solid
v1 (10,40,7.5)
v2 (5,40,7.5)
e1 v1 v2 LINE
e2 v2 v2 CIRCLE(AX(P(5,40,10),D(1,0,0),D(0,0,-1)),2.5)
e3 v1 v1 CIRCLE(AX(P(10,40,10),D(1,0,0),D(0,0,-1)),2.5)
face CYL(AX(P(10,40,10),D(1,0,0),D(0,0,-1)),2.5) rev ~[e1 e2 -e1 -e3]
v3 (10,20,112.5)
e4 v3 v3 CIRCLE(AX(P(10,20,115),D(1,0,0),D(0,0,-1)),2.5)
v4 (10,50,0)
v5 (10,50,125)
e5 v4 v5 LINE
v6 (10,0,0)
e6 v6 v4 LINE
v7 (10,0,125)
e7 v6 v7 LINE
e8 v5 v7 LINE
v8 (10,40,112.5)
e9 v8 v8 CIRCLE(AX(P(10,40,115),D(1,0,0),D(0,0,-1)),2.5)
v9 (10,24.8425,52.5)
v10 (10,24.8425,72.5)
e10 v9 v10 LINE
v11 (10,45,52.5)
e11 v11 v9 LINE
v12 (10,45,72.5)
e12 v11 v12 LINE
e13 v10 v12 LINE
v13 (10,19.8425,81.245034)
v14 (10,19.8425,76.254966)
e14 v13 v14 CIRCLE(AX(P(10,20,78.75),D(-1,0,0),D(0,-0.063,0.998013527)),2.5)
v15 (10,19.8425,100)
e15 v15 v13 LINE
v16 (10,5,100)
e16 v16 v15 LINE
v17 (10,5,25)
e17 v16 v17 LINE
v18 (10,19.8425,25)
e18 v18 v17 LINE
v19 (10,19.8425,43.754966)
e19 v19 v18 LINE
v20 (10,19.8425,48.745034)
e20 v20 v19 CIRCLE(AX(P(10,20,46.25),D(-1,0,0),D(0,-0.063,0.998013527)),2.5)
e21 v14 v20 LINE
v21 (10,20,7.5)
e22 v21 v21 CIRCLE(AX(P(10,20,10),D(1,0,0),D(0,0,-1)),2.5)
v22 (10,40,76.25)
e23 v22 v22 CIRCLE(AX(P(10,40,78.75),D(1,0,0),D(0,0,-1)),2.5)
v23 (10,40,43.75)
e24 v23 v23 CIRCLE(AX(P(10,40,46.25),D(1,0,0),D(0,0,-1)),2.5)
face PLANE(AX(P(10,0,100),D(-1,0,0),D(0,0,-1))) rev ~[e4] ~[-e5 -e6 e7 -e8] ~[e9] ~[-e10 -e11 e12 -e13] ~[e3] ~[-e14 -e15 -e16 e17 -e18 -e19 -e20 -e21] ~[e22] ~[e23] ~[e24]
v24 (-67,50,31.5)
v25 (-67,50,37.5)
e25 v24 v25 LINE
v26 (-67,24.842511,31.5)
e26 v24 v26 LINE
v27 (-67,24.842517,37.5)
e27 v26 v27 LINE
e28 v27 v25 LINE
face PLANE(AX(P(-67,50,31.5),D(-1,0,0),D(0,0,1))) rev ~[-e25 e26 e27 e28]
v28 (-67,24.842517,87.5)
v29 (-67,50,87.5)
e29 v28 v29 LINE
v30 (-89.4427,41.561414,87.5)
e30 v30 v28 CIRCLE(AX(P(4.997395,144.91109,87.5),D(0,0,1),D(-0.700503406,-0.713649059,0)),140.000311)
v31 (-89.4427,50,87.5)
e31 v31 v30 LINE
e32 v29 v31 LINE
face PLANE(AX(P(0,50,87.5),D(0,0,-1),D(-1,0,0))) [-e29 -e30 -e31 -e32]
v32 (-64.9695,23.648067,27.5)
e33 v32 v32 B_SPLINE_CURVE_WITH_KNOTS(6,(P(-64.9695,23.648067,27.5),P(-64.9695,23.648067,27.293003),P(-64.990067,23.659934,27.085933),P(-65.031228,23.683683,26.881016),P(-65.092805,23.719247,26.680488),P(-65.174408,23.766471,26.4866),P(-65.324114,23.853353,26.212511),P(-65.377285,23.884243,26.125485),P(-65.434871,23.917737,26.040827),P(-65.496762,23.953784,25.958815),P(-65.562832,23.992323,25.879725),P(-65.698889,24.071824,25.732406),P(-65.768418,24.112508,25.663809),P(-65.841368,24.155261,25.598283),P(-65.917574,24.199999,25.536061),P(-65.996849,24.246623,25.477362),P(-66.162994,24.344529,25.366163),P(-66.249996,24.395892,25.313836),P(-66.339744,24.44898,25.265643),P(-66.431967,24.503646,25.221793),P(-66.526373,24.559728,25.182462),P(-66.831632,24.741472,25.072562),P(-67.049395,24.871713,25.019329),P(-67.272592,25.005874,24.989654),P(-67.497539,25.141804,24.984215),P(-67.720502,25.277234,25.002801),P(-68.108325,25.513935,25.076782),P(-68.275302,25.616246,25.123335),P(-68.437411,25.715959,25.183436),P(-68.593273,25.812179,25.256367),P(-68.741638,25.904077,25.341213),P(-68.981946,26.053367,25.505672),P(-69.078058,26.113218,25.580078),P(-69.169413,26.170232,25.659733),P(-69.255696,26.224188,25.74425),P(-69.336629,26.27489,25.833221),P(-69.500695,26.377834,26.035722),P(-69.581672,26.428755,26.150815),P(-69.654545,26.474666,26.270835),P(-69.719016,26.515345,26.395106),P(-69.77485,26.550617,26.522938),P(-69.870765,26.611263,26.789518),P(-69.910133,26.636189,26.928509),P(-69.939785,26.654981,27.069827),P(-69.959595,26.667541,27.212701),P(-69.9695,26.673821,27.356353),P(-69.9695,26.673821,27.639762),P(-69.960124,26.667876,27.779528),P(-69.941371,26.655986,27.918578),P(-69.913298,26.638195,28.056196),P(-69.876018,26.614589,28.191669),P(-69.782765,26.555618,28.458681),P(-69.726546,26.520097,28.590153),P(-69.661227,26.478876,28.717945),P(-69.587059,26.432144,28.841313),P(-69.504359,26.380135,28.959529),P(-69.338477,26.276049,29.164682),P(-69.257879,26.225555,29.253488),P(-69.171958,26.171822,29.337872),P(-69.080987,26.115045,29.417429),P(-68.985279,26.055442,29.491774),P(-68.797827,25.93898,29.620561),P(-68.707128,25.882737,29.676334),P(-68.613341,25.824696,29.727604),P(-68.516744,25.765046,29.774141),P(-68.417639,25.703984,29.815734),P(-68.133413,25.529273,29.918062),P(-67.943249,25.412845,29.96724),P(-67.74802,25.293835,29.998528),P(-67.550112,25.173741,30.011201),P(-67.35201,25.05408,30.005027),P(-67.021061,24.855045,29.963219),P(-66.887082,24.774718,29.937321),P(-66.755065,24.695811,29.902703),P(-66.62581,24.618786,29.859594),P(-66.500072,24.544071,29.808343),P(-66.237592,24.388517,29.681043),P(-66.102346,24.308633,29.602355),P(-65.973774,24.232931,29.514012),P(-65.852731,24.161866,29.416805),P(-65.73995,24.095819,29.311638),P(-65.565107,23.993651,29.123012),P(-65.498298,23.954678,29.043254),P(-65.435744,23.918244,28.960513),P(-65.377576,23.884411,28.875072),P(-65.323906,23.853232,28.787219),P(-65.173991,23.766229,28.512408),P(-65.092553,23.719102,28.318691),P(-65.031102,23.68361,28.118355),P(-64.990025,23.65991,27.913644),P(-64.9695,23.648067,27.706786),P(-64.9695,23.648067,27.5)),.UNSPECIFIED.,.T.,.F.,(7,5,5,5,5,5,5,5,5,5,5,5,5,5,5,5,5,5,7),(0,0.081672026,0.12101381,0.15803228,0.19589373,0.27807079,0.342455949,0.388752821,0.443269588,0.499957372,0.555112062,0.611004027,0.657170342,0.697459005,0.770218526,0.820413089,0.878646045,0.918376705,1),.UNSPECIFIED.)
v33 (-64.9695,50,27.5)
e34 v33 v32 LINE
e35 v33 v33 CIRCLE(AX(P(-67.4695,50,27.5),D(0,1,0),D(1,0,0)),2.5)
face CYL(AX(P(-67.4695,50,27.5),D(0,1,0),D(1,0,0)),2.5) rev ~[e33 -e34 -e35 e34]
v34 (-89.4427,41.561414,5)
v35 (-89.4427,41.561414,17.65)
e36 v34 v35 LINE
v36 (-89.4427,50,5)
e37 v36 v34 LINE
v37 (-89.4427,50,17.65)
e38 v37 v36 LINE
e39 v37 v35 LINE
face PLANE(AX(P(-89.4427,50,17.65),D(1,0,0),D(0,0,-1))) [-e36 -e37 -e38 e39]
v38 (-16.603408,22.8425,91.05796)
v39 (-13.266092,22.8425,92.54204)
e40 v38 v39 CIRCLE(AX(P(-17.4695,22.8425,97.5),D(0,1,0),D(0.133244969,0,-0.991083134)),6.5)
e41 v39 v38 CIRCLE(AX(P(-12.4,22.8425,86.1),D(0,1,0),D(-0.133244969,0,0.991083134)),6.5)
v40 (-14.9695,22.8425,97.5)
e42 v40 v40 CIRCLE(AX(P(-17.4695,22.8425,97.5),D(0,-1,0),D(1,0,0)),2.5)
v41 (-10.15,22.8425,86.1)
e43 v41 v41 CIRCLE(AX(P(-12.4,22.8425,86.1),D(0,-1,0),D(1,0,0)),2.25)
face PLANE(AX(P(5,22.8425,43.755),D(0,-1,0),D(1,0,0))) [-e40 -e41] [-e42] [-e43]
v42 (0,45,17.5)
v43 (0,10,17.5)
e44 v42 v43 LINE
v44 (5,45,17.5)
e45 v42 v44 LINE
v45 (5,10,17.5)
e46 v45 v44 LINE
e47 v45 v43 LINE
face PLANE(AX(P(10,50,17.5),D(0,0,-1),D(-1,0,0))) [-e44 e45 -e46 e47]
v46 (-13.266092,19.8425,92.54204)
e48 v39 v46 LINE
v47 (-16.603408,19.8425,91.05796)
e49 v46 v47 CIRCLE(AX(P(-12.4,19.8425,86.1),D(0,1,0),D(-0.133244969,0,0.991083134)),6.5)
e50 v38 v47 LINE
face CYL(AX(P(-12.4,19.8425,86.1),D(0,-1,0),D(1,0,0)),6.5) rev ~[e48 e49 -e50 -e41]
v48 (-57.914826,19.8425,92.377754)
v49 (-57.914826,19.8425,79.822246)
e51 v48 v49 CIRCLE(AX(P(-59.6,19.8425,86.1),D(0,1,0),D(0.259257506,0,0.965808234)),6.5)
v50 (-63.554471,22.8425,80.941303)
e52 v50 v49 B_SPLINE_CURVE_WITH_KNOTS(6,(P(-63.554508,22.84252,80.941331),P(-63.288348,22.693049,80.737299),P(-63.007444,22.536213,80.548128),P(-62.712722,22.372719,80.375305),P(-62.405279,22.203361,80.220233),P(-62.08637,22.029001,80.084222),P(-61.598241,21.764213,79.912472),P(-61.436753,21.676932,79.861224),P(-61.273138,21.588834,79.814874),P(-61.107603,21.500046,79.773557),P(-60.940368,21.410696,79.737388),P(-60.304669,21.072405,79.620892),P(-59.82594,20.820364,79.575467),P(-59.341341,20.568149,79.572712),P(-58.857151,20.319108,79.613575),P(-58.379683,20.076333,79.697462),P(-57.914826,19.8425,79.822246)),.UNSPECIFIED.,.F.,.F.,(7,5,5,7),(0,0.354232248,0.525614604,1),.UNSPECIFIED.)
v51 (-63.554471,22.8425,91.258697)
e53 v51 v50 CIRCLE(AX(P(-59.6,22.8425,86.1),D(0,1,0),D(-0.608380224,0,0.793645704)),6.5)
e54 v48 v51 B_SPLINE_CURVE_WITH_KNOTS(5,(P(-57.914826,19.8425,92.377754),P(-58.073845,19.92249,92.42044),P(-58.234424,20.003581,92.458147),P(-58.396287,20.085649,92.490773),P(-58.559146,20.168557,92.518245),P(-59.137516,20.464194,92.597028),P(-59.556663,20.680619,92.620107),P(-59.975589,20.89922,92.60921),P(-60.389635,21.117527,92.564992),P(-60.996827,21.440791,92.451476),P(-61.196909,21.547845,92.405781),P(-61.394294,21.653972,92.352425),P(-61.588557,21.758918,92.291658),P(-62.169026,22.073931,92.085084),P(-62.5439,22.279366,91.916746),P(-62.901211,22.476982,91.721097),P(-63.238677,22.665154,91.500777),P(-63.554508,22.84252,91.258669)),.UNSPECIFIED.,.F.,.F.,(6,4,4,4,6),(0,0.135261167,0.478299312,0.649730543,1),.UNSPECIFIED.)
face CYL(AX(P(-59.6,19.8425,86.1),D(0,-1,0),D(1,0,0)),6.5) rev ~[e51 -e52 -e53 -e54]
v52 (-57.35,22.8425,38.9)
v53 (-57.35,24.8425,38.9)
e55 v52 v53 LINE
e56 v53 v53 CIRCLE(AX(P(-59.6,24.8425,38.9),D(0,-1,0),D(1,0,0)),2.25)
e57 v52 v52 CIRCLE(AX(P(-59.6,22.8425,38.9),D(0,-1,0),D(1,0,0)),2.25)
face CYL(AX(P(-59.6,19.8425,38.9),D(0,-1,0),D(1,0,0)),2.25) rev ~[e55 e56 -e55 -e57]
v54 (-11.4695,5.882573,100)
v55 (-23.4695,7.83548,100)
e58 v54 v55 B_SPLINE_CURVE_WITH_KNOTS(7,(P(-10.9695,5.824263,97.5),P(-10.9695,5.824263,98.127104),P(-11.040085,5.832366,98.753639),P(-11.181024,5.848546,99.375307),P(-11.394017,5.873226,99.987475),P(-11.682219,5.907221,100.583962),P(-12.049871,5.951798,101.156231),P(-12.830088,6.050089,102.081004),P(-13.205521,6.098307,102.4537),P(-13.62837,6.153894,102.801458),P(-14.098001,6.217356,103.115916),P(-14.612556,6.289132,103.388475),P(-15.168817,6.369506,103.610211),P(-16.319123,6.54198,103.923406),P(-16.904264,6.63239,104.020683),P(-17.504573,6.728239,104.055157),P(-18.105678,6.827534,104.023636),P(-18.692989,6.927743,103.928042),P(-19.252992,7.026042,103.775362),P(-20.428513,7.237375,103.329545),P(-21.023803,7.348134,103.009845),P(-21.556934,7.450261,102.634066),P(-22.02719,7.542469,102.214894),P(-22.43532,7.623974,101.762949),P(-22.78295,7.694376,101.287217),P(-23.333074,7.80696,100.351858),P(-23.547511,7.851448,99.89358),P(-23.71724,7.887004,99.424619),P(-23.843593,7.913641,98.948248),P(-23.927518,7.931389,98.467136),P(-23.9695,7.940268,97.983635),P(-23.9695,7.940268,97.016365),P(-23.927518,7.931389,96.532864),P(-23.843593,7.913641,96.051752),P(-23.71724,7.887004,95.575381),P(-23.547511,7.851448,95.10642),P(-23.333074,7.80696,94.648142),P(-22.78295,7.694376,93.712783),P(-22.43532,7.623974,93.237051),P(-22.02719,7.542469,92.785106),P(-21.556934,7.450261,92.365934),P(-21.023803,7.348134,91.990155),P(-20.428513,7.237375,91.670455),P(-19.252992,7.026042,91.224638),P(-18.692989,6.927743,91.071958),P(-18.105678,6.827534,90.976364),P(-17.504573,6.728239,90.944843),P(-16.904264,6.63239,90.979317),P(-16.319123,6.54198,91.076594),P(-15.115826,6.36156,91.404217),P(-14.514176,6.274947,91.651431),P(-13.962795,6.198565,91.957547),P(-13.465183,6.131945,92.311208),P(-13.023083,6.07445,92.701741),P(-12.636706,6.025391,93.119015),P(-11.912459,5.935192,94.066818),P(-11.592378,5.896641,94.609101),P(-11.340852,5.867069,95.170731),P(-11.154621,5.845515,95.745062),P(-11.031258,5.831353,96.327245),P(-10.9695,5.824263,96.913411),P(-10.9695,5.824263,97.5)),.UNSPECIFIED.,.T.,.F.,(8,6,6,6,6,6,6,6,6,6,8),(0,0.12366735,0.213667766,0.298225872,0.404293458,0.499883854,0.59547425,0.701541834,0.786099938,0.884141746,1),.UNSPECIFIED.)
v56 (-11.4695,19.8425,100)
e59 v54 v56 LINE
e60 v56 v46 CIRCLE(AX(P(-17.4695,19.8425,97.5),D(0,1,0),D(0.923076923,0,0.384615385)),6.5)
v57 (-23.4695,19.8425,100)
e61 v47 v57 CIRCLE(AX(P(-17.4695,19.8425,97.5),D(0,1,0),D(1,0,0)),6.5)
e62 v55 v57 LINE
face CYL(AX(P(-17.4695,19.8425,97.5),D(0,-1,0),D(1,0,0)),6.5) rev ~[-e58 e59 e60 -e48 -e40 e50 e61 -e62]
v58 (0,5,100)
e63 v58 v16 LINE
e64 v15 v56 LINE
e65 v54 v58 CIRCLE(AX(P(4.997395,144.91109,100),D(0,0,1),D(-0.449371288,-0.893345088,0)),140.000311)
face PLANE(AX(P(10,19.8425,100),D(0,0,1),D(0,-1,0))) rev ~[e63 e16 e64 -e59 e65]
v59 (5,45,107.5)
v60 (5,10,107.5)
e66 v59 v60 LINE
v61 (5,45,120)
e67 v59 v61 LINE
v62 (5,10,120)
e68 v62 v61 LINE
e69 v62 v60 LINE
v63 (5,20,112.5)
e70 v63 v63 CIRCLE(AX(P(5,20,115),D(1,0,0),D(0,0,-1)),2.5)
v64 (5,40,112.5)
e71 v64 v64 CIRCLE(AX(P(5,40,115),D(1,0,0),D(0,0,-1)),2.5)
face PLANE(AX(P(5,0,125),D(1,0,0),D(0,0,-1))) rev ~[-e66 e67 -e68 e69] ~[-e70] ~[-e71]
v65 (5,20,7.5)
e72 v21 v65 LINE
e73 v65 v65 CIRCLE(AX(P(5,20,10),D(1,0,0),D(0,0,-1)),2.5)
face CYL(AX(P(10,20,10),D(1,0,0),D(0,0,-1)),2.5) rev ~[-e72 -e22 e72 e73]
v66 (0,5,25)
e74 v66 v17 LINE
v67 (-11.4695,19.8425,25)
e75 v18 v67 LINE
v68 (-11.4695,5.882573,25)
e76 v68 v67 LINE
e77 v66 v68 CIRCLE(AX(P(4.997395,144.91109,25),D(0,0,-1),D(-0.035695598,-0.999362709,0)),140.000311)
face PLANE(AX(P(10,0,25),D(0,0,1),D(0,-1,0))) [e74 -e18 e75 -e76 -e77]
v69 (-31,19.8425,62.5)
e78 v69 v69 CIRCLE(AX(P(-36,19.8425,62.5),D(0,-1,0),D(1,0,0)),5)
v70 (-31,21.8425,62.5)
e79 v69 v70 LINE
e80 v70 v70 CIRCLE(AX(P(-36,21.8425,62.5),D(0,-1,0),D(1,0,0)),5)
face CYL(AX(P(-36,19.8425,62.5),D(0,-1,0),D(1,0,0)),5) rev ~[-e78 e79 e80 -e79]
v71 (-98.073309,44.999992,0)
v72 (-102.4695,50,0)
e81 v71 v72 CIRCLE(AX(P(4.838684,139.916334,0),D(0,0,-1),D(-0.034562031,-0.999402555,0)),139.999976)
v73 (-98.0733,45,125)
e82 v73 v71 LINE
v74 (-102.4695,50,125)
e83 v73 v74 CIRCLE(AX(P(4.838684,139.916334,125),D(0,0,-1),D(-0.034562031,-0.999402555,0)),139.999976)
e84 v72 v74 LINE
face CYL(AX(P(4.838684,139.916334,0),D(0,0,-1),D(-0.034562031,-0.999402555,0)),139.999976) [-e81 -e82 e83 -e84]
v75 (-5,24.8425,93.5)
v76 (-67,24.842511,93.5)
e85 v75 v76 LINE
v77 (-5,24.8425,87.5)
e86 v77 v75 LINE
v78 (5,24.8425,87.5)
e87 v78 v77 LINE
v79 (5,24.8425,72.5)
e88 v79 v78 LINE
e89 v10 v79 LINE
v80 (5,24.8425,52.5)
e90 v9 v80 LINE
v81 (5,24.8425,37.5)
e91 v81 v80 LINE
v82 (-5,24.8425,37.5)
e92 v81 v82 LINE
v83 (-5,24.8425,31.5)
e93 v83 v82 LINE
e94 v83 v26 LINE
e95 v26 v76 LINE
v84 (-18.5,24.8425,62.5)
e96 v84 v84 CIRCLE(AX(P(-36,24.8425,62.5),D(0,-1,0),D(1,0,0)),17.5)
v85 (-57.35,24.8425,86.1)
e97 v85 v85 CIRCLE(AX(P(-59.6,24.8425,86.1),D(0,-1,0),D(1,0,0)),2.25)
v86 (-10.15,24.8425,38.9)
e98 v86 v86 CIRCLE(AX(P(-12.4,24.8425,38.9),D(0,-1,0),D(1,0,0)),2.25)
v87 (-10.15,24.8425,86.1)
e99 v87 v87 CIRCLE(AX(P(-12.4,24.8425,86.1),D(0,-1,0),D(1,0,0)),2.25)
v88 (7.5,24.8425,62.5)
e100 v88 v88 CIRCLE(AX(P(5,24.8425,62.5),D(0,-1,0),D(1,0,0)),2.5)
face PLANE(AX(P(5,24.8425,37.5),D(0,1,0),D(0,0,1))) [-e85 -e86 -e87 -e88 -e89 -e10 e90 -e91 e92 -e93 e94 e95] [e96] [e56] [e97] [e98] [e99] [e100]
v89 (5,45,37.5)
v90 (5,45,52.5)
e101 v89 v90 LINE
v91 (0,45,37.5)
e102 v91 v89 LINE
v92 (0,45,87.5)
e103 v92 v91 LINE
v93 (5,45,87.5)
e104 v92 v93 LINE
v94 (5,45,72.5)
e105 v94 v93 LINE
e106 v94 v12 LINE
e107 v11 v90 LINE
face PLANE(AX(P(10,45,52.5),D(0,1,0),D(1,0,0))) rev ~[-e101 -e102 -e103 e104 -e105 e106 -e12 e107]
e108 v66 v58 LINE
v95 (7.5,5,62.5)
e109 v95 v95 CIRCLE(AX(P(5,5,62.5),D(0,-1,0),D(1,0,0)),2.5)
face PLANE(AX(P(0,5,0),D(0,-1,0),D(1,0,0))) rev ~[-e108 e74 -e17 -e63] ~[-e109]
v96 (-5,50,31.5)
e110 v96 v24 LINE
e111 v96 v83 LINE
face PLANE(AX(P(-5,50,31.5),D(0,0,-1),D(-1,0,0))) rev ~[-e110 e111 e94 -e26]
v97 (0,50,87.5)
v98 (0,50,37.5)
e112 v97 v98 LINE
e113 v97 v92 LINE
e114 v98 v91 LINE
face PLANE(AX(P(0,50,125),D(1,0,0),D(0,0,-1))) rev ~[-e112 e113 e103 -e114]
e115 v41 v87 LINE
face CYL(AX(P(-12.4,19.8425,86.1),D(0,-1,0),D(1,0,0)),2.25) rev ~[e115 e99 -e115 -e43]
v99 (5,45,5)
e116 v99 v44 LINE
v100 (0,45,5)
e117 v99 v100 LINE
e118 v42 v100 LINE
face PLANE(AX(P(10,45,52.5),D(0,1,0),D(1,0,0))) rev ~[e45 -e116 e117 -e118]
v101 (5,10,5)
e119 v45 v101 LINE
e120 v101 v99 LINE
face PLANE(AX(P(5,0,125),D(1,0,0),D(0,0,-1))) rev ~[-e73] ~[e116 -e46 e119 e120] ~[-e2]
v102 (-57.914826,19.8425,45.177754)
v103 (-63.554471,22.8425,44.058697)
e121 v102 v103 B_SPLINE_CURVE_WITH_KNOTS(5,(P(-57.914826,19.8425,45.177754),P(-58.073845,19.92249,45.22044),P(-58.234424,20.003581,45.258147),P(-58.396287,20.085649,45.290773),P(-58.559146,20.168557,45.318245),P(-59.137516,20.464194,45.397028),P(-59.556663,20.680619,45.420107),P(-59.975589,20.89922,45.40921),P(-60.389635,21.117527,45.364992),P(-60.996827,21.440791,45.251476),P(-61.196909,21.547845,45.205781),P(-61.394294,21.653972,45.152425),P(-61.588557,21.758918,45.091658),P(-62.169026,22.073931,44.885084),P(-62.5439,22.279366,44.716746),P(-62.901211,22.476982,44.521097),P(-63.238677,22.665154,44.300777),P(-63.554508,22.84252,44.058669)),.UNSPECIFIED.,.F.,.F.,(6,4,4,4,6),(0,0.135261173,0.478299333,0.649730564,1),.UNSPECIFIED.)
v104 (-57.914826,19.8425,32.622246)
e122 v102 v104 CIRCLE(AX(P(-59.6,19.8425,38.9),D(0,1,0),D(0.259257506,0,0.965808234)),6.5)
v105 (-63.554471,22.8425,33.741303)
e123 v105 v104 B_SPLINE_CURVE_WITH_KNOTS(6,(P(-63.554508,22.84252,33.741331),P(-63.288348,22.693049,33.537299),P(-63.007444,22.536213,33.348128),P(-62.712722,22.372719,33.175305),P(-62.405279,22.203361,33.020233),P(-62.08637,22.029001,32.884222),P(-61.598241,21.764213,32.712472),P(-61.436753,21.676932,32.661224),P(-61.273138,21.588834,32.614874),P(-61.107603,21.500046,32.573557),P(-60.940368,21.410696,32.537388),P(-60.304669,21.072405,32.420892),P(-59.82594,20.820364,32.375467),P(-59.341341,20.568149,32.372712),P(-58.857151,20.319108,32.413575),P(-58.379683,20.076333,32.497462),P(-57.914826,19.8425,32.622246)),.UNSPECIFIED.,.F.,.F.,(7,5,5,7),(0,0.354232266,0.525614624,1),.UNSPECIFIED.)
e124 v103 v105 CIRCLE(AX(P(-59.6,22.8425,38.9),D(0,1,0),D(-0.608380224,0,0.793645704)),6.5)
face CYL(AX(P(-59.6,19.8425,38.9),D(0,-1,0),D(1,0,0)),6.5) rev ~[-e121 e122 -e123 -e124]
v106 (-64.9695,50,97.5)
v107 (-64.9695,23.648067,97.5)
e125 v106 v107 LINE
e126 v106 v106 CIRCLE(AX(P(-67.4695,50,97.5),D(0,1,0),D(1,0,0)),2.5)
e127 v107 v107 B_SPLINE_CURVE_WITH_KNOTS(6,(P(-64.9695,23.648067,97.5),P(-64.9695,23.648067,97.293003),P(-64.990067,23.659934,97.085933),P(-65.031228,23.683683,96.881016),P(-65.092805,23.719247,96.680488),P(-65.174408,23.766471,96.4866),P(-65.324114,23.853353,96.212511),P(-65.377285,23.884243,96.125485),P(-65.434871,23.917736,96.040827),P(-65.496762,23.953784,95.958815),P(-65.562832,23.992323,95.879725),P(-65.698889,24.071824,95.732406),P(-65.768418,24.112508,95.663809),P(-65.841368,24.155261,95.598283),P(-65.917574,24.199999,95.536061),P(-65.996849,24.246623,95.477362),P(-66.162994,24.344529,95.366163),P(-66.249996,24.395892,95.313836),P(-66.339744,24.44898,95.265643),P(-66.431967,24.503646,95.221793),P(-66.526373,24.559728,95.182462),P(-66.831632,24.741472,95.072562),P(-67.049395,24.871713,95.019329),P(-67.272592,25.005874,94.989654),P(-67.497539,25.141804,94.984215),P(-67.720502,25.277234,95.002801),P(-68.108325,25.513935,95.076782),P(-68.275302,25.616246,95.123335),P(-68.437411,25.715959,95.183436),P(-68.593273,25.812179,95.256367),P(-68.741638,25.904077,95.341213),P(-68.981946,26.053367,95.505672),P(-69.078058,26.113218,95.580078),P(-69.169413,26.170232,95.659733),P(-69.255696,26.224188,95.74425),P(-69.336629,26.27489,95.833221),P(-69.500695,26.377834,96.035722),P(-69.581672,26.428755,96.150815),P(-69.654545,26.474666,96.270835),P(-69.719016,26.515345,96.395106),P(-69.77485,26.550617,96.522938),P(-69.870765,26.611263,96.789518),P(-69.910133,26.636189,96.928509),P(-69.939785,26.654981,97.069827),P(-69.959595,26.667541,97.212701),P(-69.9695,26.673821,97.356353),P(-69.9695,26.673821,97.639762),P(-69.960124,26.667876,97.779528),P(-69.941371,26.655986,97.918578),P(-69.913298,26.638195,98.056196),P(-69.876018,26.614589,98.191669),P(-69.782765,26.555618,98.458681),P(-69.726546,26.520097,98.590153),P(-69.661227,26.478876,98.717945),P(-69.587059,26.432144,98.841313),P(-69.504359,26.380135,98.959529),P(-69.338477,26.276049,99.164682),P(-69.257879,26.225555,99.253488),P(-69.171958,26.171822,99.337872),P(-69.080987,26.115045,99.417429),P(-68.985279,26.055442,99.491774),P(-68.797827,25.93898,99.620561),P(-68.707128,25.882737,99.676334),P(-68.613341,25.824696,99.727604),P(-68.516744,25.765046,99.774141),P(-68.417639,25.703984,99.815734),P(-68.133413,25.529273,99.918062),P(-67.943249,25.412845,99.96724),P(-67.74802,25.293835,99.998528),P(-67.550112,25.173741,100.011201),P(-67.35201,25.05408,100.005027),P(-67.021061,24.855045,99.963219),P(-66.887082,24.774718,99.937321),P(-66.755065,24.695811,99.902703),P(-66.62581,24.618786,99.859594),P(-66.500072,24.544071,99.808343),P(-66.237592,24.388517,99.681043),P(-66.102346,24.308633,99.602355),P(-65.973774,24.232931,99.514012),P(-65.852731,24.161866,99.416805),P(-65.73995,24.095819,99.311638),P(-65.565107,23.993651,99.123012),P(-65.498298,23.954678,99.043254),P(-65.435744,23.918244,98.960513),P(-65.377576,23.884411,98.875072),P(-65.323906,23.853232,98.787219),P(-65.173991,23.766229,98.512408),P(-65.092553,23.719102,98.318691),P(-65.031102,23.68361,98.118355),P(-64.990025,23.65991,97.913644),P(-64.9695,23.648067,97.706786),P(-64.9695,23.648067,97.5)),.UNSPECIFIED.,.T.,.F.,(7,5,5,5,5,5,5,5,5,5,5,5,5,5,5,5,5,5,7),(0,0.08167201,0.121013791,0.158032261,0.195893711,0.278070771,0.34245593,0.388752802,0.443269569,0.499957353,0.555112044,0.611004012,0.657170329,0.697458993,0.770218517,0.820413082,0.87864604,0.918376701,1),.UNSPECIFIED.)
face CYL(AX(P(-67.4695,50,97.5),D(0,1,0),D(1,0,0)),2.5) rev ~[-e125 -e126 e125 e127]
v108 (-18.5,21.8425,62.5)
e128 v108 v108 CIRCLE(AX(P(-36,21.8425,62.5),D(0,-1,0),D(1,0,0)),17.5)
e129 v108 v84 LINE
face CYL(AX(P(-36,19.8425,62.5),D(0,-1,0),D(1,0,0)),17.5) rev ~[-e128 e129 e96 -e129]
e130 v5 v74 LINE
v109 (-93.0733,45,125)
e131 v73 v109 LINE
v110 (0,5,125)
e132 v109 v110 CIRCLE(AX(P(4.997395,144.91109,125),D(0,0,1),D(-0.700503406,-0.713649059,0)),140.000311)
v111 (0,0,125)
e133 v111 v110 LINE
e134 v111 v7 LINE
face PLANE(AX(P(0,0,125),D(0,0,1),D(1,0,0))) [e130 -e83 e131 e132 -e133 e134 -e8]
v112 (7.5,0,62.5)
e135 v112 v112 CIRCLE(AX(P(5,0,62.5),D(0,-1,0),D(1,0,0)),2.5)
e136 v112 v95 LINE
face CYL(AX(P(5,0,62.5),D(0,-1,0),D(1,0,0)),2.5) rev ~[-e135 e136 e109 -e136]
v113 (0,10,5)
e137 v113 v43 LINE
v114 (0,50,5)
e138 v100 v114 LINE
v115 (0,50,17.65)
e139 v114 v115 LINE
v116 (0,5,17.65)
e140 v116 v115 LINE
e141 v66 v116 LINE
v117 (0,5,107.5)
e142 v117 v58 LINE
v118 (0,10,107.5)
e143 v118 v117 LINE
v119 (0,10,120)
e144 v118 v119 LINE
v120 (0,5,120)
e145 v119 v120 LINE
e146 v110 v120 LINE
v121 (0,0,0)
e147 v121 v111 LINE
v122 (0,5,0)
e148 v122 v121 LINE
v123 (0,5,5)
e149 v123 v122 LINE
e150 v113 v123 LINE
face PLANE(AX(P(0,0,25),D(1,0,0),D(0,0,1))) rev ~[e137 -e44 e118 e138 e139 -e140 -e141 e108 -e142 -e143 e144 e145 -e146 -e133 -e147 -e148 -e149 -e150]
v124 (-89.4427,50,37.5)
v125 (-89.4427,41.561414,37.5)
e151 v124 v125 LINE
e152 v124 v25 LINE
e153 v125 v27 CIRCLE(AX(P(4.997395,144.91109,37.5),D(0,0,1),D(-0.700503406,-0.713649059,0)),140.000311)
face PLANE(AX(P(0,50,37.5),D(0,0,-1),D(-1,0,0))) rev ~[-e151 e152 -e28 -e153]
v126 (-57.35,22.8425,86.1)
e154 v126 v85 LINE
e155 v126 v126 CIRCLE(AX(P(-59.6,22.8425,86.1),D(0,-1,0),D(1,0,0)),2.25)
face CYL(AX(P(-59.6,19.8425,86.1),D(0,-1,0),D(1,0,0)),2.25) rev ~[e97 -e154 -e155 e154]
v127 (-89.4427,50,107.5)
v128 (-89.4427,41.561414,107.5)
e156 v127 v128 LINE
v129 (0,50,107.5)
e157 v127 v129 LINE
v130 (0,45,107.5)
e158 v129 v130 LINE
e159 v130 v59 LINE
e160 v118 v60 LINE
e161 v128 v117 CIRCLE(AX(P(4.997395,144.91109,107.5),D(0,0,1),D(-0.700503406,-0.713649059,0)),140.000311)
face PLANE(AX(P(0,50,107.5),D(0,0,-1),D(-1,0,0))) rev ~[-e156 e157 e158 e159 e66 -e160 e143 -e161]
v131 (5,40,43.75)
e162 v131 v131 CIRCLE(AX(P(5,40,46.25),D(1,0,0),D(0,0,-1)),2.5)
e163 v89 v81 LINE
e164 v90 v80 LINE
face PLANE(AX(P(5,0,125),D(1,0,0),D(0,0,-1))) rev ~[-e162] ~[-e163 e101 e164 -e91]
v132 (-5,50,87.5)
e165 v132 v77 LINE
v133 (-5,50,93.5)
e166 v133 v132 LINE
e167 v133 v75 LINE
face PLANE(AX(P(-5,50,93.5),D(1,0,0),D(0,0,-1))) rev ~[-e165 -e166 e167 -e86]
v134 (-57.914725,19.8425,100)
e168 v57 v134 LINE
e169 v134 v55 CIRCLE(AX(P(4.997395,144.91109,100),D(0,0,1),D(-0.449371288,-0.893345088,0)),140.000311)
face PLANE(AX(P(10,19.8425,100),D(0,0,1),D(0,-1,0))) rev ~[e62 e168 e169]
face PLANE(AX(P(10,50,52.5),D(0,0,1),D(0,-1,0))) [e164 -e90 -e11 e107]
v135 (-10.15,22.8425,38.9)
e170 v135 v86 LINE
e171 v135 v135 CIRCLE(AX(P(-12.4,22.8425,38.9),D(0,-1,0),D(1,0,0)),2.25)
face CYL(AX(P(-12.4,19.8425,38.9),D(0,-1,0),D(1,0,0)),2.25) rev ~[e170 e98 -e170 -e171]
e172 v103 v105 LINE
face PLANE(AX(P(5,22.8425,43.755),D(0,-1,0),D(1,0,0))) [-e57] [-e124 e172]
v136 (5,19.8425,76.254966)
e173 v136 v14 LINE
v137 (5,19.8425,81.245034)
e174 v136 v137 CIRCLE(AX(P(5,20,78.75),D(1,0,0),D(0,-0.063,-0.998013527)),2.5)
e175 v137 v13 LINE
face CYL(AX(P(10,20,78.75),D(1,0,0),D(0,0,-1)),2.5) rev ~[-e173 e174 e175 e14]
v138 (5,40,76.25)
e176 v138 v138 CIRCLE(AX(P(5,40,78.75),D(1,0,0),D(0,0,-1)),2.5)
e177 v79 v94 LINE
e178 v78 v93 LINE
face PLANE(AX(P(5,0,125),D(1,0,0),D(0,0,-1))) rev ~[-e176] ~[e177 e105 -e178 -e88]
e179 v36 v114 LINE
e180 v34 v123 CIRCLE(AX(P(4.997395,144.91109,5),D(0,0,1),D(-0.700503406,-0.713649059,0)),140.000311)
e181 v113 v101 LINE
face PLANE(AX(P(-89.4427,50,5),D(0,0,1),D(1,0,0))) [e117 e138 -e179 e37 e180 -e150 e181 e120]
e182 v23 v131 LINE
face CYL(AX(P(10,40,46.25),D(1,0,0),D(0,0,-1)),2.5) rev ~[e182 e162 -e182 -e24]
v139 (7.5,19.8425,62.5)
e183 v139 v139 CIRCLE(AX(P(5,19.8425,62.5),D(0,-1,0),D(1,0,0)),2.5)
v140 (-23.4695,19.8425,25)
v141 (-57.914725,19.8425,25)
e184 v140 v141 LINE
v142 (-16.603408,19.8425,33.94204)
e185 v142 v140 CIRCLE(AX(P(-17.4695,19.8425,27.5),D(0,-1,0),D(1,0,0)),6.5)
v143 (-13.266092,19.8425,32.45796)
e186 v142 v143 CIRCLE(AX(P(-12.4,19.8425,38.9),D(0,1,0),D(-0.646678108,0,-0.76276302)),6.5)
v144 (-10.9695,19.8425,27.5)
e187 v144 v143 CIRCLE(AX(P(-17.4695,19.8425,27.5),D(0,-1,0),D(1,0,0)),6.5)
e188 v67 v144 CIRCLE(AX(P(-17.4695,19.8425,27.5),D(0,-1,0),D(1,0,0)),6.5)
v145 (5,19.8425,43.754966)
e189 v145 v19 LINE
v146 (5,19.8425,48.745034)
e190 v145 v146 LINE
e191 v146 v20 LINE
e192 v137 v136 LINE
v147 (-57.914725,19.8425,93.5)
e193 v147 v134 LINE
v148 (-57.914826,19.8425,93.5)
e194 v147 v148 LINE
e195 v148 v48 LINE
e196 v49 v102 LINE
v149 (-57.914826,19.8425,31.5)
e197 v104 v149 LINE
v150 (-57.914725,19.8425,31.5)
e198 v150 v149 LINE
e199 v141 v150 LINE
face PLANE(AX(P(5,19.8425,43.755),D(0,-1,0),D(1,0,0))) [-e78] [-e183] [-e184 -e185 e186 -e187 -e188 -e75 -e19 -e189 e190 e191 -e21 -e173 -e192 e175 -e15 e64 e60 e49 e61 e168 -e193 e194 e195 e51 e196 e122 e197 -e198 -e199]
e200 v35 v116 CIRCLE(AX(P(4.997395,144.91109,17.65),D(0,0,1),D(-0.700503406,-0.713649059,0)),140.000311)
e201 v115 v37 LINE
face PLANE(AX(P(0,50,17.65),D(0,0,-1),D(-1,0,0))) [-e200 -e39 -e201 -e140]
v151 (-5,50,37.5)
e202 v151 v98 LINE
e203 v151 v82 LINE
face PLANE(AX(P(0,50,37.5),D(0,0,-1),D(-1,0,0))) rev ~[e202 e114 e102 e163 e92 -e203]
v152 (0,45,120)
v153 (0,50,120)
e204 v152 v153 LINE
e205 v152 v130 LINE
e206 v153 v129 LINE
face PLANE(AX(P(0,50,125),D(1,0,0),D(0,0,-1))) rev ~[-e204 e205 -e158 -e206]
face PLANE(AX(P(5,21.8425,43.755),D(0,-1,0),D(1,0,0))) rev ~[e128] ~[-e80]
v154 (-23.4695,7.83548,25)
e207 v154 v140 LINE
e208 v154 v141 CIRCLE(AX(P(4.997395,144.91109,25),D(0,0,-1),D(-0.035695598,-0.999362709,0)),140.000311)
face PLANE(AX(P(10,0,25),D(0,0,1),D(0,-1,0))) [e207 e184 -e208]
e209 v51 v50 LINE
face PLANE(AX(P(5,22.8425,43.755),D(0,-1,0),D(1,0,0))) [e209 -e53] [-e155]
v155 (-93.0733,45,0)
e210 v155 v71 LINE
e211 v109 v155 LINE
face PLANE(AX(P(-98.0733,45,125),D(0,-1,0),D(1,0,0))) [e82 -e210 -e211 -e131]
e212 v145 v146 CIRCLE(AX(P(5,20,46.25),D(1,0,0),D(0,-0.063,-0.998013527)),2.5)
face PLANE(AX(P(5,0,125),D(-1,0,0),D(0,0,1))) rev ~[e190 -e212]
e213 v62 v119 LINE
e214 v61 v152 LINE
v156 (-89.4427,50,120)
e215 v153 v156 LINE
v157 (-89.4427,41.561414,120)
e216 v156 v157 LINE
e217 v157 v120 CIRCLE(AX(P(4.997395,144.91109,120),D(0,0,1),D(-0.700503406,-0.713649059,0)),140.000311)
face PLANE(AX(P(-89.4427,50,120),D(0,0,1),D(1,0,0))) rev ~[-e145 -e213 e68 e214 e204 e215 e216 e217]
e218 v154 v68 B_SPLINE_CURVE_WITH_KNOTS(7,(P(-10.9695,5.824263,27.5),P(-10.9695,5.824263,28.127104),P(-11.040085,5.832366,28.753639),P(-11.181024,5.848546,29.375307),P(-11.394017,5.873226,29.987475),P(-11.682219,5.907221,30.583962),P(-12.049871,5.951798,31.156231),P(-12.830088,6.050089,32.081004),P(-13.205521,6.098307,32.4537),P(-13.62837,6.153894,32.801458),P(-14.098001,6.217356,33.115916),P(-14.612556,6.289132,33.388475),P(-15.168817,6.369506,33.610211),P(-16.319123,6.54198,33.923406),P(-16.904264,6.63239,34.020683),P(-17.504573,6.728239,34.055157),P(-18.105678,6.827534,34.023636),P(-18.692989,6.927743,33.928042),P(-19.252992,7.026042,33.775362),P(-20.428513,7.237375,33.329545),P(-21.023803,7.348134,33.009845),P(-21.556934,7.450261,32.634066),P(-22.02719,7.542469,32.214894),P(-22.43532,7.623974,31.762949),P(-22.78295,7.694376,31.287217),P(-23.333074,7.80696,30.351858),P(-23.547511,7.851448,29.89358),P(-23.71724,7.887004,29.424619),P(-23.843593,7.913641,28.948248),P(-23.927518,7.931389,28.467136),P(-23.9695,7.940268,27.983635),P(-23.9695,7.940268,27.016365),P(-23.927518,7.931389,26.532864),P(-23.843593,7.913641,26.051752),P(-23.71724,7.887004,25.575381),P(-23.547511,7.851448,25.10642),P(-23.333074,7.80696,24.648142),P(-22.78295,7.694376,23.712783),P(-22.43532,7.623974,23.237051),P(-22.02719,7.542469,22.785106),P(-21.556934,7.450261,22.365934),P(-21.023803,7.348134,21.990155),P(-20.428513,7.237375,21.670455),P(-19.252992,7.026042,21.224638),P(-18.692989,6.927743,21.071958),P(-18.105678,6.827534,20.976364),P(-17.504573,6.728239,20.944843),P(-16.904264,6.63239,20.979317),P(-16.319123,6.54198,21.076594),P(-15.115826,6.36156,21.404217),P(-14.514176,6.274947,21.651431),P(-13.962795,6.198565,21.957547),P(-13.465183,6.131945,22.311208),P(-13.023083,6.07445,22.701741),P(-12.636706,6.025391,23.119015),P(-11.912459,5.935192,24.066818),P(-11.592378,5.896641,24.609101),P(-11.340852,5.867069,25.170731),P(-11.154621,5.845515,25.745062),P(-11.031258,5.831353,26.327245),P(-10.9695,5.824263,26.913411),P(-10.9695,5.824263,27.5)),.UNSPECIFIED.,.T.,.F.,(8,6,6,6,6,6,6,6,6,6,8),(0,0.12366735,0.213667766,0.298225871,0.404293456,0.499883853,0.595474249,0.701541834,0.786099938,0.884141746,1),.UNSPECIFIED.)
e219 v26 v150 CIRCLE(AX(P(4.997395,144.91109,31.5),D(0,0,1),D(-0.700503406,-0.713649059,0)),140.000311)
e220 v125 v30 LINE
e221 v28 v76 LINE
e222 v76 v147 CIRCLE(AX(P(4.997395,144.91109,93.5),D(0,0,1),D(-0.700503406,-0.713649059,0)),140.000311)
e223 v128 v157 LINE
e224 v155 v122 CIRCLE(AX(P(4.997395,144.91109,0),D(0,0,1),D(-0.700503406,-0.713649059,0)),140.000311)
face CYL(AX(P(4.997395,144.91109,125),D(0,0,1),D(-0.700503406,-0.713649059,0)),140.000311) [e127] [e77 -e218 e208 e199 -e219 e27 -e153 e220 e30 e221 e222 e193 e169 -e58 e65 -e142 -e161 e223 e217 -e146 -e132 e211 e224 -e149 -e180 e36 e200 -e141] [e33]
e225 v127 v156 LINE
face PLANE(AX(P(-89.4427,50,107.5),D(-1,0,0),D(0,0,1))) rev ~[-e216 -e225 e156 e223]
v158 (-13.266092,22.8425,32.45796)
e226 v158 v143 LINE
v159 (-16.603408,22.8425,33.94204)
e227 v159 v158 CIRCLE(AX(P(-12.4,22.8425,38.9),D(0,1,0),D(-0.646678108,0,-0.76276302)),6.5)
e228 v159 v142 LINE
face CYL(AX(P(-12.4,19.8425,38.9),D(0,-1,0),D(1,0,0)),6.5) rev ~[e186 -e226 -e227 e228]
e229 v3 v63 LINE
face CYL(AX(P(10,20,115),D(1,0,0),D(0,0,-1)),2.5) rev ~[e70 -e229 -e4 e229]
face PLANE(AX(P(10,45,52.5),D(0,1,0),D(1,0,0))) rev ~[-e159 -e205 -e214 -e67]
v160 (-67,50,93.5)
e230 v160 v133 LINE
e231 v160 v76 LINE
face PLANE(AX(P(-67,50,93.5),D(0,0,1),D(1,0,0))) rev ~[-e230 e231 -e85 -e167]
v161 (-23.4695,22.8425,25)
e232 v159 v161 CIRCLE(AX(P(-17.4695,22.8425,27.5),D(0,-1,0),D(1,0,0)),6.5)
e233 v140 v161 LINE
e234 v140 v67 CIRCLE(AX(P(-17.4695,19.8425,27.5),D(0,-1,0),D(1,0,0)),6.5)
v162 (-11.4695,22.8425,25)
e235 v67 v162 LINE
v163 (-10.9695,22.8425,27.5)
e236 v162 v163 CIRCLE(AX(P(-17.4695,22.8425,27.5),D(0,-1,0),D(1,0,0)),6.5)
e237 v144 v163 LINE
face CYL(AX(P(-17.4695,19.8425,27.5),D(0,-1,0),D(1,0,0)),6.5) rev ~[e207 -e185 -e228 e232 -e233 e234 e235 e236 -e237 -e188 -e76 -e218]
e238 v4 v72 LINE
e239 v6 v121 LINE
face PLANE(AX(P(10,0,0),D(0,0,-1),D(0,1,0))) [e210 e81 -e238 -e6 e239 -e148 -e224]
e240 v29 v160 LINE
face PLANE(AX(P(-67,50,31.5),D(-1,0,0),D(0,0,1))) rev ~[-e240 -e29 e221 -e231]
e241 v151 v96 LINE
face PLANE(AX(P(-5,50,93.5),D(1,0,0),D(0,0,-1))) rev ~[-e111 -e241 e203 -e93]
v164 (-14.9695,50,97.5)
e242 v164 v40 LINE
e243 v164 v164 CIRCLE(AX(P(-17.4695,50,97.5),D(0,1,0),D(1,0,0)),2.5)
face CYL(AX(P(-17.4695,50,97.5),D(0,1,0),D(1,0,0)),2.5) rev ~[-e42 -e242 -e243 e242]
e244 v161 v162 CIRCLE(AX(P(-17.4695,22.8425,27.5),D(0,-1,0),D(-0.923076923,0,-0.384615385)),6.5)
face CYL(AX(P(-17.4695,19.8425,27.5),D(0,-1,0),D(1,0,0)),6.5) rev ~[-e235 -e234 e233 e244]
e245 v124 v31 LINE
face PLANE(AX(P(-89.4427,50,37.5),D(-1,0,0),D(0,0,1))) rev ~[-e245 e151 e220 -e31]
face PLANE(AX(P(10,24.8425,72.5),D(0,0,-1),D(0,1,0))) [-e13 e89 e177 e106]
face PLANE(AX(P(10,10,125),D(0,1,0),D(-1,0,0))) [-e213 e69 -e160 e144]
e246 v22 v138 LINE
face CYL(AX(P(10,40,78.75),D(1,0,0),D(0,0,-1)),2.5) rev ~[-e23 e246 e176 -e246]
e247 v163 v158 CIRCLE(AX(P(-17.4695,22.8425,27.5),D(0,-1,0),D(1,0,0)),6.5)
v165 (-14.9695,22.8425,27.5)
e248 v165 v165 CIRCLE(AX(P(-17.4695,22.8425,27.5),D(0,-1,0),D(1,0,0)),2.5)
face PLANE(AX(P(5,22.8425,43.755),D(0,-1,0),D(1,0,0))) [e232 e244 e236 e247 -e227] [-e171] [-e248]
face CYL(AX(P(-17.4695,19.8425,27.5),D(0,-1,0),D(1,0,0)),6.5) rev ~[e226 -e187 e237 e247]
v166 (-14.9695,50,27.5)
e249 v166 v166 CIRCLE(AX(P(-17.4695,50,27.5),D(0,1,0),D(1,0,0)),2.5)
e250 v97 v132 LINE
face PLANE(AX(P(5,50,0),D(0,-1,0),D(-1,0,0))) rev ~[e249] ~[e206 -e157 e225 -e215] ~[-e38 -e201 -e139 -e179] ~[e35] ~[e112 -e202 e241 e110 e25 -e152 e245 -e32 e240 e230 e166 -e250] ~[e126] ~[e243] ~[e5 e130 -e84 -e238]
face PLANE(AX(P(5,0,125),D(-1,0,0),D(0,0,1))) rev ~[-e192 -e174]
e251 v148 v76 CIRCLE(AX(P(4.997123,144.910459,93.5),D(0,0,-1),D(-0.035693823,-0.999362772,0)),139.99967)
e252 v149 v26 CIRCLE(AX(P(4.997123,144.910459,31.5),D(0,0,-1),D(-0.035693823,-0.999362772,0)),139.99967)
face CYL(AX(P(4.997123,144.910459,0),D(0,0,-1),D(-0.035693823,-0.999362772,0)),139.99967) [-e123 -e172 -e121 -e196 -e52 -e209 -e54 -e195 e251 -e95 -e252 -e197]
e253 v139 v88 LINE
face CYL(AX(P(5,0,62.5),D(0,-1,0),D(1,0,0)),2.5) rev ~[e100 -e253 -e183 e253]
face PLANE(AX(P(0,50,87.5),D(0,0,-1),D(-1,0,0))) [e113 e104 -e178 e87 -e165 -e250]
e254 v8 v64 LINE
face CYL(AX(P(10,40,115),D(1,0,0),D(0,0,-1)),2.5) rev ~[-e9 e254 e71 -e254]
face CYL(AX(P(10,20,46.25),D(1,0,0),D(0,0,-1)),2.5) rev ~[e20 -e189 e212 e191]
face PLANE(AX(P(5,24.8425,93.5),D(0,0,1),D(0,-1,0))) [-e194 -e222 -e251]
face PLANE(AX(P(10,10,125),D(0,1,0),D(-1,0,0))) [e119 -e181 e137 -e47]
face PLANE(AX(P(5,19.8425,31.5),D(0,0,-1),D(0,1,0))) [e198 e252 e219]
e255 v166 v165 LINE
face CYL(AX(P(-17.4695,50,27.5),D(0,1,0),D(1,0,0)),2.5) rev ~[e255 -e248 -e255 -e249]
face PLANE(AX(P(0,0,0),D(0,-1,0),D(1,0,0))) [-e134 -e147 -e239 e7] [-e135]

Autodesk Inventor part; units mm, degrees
ref_plane "YZ Plane" through (0, 0, 0) normal (1, 0, 0) x (0, 1, 0)
ref_plane "XZ Plane" through (0, 0, 0) normal (0, 1, 0) x (-1, 0, 0)
sketch "Sketch3" plane through (0, 0, 0) normal (0, 0, 1) x (1, 0, 0)
  circle A0 centre (0, 130) radius 130 construction
  line L0 (0, 0) -> (0, 10)
  circle A1 centre (0, 130) radius 120 construction
  line L1 (0, 0) -> (0, 50) construction
  line L2 (0, 50) -> (-102.4695, 50) construction
  arc A2 (-102.4695, 50) -> (0, 0) centre (0, 130) ccw
  arc A3 (-89.4427, 50) -> (0, 10) centre (0, 130) ccw
  line L3 (-102.4695, 50) -> (-89.4427, 50)
  dimension "d11" = 260
  dimension "d12" = 10
  dimension "d13" = 10
  dimension "d14" = 50
extrude "Extrusion2" add sketch "Sketch3" along normal blind 125
sketch "Sketch11" plane through (0, 0, 125) normal (0, 0, 1) x (1, 0, 0)
  line L0 (0, 0) -> (10, 0)
  line L1 (10, 0) -> (10, 10)
  line L2 (10, 10) -> (0, 10)
  line L3 (0, 10) -> (0, 0)
  dimension "d53" = 10
  dimension "d54" = 10
extrude "Extrusion9" add sketch "Sketch11" against normal blind 125
sketch "Sketch12" plane through (10, 0, 125) normal (1, 0, 0) x (0, 0, -1)
  line L0 (0, 50) -> (0, 0) projected
  line L1 (125, 50) -> (0, 50) projected
  line L2 (0, 0) -> (125, 0)
  line L3 (125, 0) -> (125, 50)
  line L4 (125, 50) -> (0, 50)
  line L5 (0, 50) -> (0, 0)
extrude "Extrusion10" add sketch "Sketch12" against normal blind 5
sketch "Sketch13" plane through (0, 0, 125) normal (0, 0, 1) x (1, 0, 0)
  line L0 (5, 10) -> (0, 10) projected
  arc A0 (-89.4427, 50) -> (0, 10) centre (0, 130) ccw projected
  line L1 (-89.4427, 50) -> (-102.4695, 50) projected
  arc A1 (-102.4695, 50) -> (0, 0) centre (0, 130) ccw projected
  line L2 (0, 0) -> (10, 0) projected
  line L3 (10, 0) -> (10, 50) projected
  line L4 (10, 50) -> (5, 50) projected
  line L5 (5, 10) -> (5, 50) projected
  line L6 (-89.4427, 50) -> (-102.4695, 50) projected
  line L7 (-102.4695, 50) -> (10, 50)
  line L8 (10, 0) -> (10, 50) projected
  line L9 (0, 0) -> (10, 0) projected
  line L10 (10, 0) -> (0, 0)
  arc A2 (-102.4695, 50) -> (0, 0) centre (0, 130) ccw
  line L11 (10, 50) -> (10, 0)
extrude "Extrusion11" add sketch "Sketch13" against normal blind 5 contours L0 A0 L7 L5
sketch "Sketch14" plane through (0, 0, 0) normal (0, 0, -1) x (-1, 0, 0)
  arc A0 (0, 0) -> (102.4695, 50) centre (0, 130) ccw projected
  line L0 (89.4427, 50) -> (102.4695, 50) projected
  arc A1 (0, 10) -> (89.4427, 50) centre (0, 130) ccw projected
  line L1 (-5, 50) -> (89.4427, 50)
  line L2 (-10, 50) -> (102.4695, 50) projected
  line L3 (-5, 10) -> (-5, 50) projected
  line L4 (-5, 10) -> (-5, 50)
  line L5 (0, 10) -> (-5, 10) projected
  line L6 (-5, 10) -> (0, 10)
  arc A2 (0, 10) -> (89.4427, 50) centre (0, 130) ccw projected
  arc A3 (0, 10) -> (89.4427, 50) centre (0, 130) ccw
  line L7 (-10, 0) -> (0, 0) projected
  line L8 (0, 10) -> (-5, 10) projected
  line L9 (-5, 50) -> (-5, 10) projected
  line L10 (-10, 50) -> (-5, 50) projected
  line L11 (-10, 0) -> (-10, 50) projected
extrude "Extrusion12" add sketch "Sketch14" against normal blind 5 contours A1 L5 L3 L1
sketch "Sketch15" plane through (10, 50, 125) normal (1, 0, 0) x (0, 0, -1)
  line L0 (0, -50) -> (0, 0) construction
  line L1 (0, -50) -> (125, -50) construction
  line L2 (0, 0) -> (20, 0) construction
  line L3 (20, 0) -> (20, -50) construction
  line L4 (20, -50) -> (0, -50) construction
  line L5 (0, -50) -> (0, 0) construction
  line L6 (125, 0) -> (0, 0) construction
  line L7 (38.75, 0) -> (53.75, 0) construction
  line L8 (53.75, 0) -> (53.75, -50) construction
  line L9 (53.75, -50) -> (38.75, -50) construction
  line L10 (38.75, -50) -> (38.75, 0) construction
  line L11 (71.25, 0) -> (86.25, 0) construction
  line L12 (86.25, 0) -> (86.25, -50) construction
  line L13 (86.25, -50) -> (71.25, -50) construction
  line L14 (71.25, -50) -> (71.25, 0) construction
  line L15 (125, -50) -> (125, 0) construction
  line L16 (125, 0) -> (105, 0) construction
  line L17 (105, 0) -> (105, -50) construction
  line L18 (105, -50) -> (125, -50) construction
  line L19 (125, -50) -> (125, 0) construction
  circle A0 centre (10, -10) radius 2.5
  circle A1 centre (10, -30) radius 2.5
  circle A2 centre (46.25, -10) radius 2.5
  circle A3 centre (46.25, -30) radius 2.5
  circle A4 centre (78.75, -10) radius 2.5
  circle A5 centre (78.75, -30) radius 2.5
  circle A6 centre (115, -10) radius 2.5
  circle A7 centre (115, -30) radius 2.5
  dimension "d63" = 20
  dimension "d64" = 15
  dimension "d65" = 20
  dimension "d66" = 15
  dimension "d69" = 5
  dimension "d70" = 5
  dimension "d71" = 5
  dimension "d72" = 5
  dimension "d73" = 5
  dimension "d74" = 5
  dimension "d75" = 5
  dimension "d76" = 5
  dimension "d77" = 10
  dimension "d78" = 10
  dimension "d79" = 7.5
  dimension "d80" = 7.5
  dimension "d81" = 10
  dimension "d82" = 20
  dimension "d114" = 36.25
  dimension "d115" = 36.25
extrude "Extrusion13" cut sketch "Sketch15" against normal blind 5
sketch "Sketch16" plane through (-102.4695, 50, 125) normal (0, 1, 0) x (1, 0, 0)
  line L0 (112.4695, 125) -> (112.4695, 0) projected
  line L1 (0, 125) -> (0, 0) projected
  line L2 (112.4695, 107.5) -> (0, 107.5)
  line L3 (0, 107.5) -> (0, 87.5)
  line L4 (0, 87.5) -> (112.4695, 87.5)
  line L5 (112.4695, 87.5) -> (112.4695, 107.5)
  line L6 (112.4695, 37.5) -> (0, 37.5)
  line L7 (0, 37.5) -> (0, 17.5)
  line L8 (0, 17.5) -> (112.4695, 17.5)
  line L9 (112.4695, 17.5) -> (112.4695, 37.5)
  line L10 (112.4695, 125) -> (0, 125) projected
  line L11 (0, 0) -> (102.4695, 0) projected
  point P0 (102.4695, 125)
  dimension "d85" = 20
  dimension "d87" = 20
  dimension "d88" = 17.5
  dimension "d89" = 17.5
extrude "Extrusion14" add sketch "Sketch16" against normal blind 50 contours L0 L4 L1 L2 | L0 L8 L1 L6
sketch "Sketch19" plane through (10, 0, 125) normal (1, 0, 0) x (0, 0, -1)
  line L0 (52.5, 50) -> (72.5, 50)
  line L1 (72.5, 50) -> (72.5, 24.8425)
  line L2 (72.5, 24.8425) -> (52.5, 24.8425)
  line L3 (52.5, 24.8425) -> (52.5, 50)
  line L4 (0, 0) -> (0, 50) projected
  line L5 (125, 50) -> (0, 50) projected
  point P0 (125, 0)
  dimension "d95" = 20
  dimension "d96" = 52.5
  dimension "d97" = 25.1575
extrude "Extrusion16" cut sketch "Sketch19" against normal blind 5
sketch "Sketch20" plane through (0, 0, 0) normal (0, 0, -1) x (-1, 0, 0)
  line L0 (0, 0) -> (-10, 0) projected
  arc A0 (0, 0) -> (102.4695, 50) centre (-4.8387, 139.9164) ccw
  line L1 (102.4695, 0) -> (0, 0) projected
  line L2 (0, 0) -> (102.4695, 0)
  line L3 (102.4695, 50) -> (102.4695, 0) projected
  line L4 (102.4695, 0) -> (102.4695, 50)
  line L5 (102.4695, 50) -> (102.4695, 0)
  dimension "d100" = 140
extrude "Extrusion17" cut sketch "Sketch20" against normal through all
sketch "Sketch21" plane through (-102.4695, 50, 125) normal (0, 1, 0) x (1, 0, 0)
  circle A0 centre (85, 27.5) radius 2.5
  circle A1 centre (35, 27.5) radius 2.5
  circle A2 centre (85, 97.5) radius 2.5
  circle A3 centre (35, 97.5) radius 2.5
  line L0 (102.4695, 17.5) -> (102.4695, 5) projected
  line L1 (13.0268, 17.5) -> (107.4695, 17.5) projected
  line L2 (13.0268, 87.5) -> (107.4695, 87.5) projected
  line L3 (0, 125) -> (0, 0) projected
  dimension "d103" = 5
  dimension "d104" = 5
  dimension "d105" = 5
  dimension "d106" = 5
  dimension "d108" = 50
  dimension "d109" = 10
  dimension "d110" = 10
  dimension "d113" = 35
extrude "Extrusion18" cut sketch "Sketch21" against normal through all
sketch "Sketch23" plane through (0, 0, 125) normal (0, 0, 1) x (1, 0, 0)
  line L0 (0, 0) -> (0, 5)
  arc A0 (-98.0733, 45) -> (0, 0) centre (4.8387, 139.9164) ccw
  line L1 (-98.0733, 45) -> (-93.0733, 45)
  arc A1 (-93.0733, 45) -> (0, 5) centre (4.9972, 144.9108) ccw
  arc A2 (-102.4695, 50) -> (0, 0) centre (4.8387, 139.9164) ccw projected
  dimension "d118" = 5
  dimension "d119" = 5
  dimension "d120" = 5
  dimension "d122" = 140
  dimension "d123" = 140
extrude "Extrusion20" cut sketch "Sketch23" against normal through all
sketch "Sketch24" plane through (-89.4427, 50, 87.5) normal (0, 1, 0) x (1, 0, 0)
  line L0 (0, 82.5) -> (0, 70) projected
  line L1 (89.4427, -37.5) -> (89.4427, 87.5) projected
  line L2 (0, 82.5) -> (89.4427, 82.5)
  line L3 (89.4427, 82.5) -> (89.4427, 69.85)
  line L4 (89.4427, 69.85) -> (0, 69.85)
  line L5 (0, 69.85) -> (0, 82.5)
  line L6 (94.4427, 0) -> (0, 0) projected
  line L7 (89.4427, 50) -> (89.4427, 0) projected
  line L8 (0, 0) -> (89.4427, 0)
  line L9 (89.4427, 0) -> (89.4427, 50)
  line L10 (89.4427, 50) -> (0, 50)
  line L11 (0, 50) -> (0, 0)
  line L12 (0, -32.5) -> (94.4427, -32.5) projected
  line L13 (94.4427, -20) -> (89.4427, -20) projected
  line L14 (0, -32.5) -> (89.4427, -32.5)
  line L15 (89.4427, -32.5) -> (89.4427, -20)
  line L16 (89.4427, -20) -> (0, -20)
  line L17 (0, -20) -> (0, -32.5)
extrude "Extrusion21" cut sketch "Sketch24" against normal through all
ref_plane "Work Plane1" through (0, 0, 62.5) normal (0, 0, -1) x (-1, 0, 0)
sketch "Sketch27" plane through (0, 0, 62.5) normal (0, 0, -1) x (-1, 0, 0)
  line L0 (-10, 0) -> (-10, 50) projected
  line L1 (-10, 0) -> (0, 0)
  line L2 (0, 0) -> (0, -10)
  line L3 (0, -10) -> (-10, -10)
  line L4 (-10, -10) -> (-10, 0)
  point P0 (0, 0)
  dimension "d129" = 10
  dimension "d130" = 10
extrude "Extrusion22" add sketch "Sketch27" along normal mid plane 85
sketch "Sketch28" plane through (10, 50, 52.5) normal (0, 1, 0) x (1, 0, 0)
  line L0 (-77, -41) -> (-15, -41)
  line L1 (-15, -41) -> (-15, 21)
  line L2 (-15, 21) -> (-77, 21)
  line L3 (-77, 21) -> (-77, -41)
  line L4 (0, 52.5) -> (0, 0) projected
  line L5 (0, 0) -> (0, -20) projected
  point P0 (-10, 52.5)
  point P1 (-15, -10)
  point P2 (0, -10)
  dimension "d133" = 62
  dimension "d134" = 62
  dimension "d135" = 15
extrude "Extrusion23" cut sketch "Sketch28" against normal through all
sketch "Sketch29" plane through (5, 0, 125) normal (-1, 0, 0) x (0, 0, 1)
  line L0 (-93.5, 24.8425) -> (-87.5, 24.8425) projected
  line L1 (-37.5, 24.8425) -> (-31.5, 24.8425) projected
  line L2 (-93.5, 24.8425) -> (-31.5, 24.8425)
  line L3 (-31.5, 24.8425) -> (-31.5, 19.8425)
  line L4 (-31.5, 19.8425) -> (-93.5, 19.8425)
  line L5 (-93.5, 19.8425) -> (-93.5, 24.8425)
  point P0 (-125, 0)
  dimension "d138" = 62
  dimension "d143" = 5
extrude "Extrusion24" add sketch "Sketch29" along normal blind 72
sketch "Sketch30" plane through (5, 19.8425, 43.755) normal (0, -1, 0) x (1, 0, 0)
  line L0 (-17.4, 42.345) -> (-64.6, 42.345) construction
  line L1 (-64.6, 42.345) -> (-64.6, -4.855) construction
  line L2 (-64.6, -4.855) -> (-17.4, -4.855) construction
  line L3 (-17.4, -4.855) -> (-17.4, 42.345) construction
  line L4 (-72, -12.255) -> (-10, -12.255) construction
  line L5 (-10, -12.255) -> (-10, 49.745) construction
  line L6 (-10, 49.745) -> (-72, 49.745) construction
  line L7 (-72, 49.745) -> (-72, -12.255) construction
  line L8 (5, -52.5) -> (5, 0) construction
  line L9 (0, 0) -> (0, 37.4901) construction
  circle A0 centre (-41, 18.745) radius 17.5
  circle A1 centre (-17.4, -4.855) radius 2.25
  circle A2 centre (-64.6, -4.855) radius 2.25
  circle A3 centre (-64.6, 42.345) radius 2.25
  circle A4 centre (-17.4, 42.345) radius 2.25
  point P0 (-5, -52.5)
  point P1 (-41, -4.855)
  point P2 (-41, -12.255)
  point P3 (-64.6, 18.745)
  point P4 (-72, 18.745)
  point P5 (-10, 18.745)
  point P6 (0, 18.745)
  dimension "d144" = 47.2
  dimension "d145" = 47.2
  dimension "d146" = 62
  dimension "d147" = 62
  dimension "d148" = 15
  dimension "d149" = 35
  dimension "d150" = 4.5
  dimension "d151" = 4.5
  dimension "d152" = 4.5
  dimension "d153" = 4.5
extrude "Extrusion25" cut sketch "Sketch30" against normal through all
sketch "Sketch31" plane through (5, 19.8425, 43.755) normal (0, -1, 0) x (1, 0, 0)
  circle A0 centre (-41, 18.745) radius 17.5
  circle A1 centre (-41, 18.745) radius 5
  circle A2 centre (-41, 18.745) radius 17.5 projected
  point P0 (-5, -52.5)
  dimension "d156" = 10
extrude "Extrusion26" add sketch "Sketch31" against normal blind 2
sketch "Sketch32" plane through (0, 0, 0) normal (0, 0, -1) x (-1, 0, 0)
  arc A0 (0, 5) -> (93.0733, 45) centre (-4.9972, 144.9108) ccw projected
  line L0 (0, 5) -> (0, 0)
  line L1 (0, 0) -> (93.0733, 0)
  line L2 (93.0733, 0) -> (93.0733, 45)
  point P0 (0, 0)
  dimension "d159" = 5
extrude "Extrusion27" cut sketch "Sketch32" against normal through all
sketch "Sketch33" plane through (10, 0, 125) normal (1, 0, 0) x (0, 0, -1)
  line L0 (105, -10) -> (20, -10) projected
  line L1 (105, 0) -> (105, -10) projected
  line L2 (20, -10) -> (20, 0) projected
  line L3 (25, 0) -> (25, -5) construction
  line L4 (25, -5) -> (100, -5) construction
  line L5 (100, -5) -> (100, 0) construction
  line L6 (25, 50) -> (25, 6.7252) projected
  line L7 (100, 0) -> (25, 0) construction
  line L8 (25, 0) -> (25, 19.8425)
  line L9 (25, 19.8425) -> (100, 19.8425)
  line L10 (100, 19.8425) -> (100, 0)
  line L11 (76.255, 19.8425) -> (81.245, 19.8425) projected
  line L12 (100, 0) -> (100, -5)
  line L13 (100, -5) -> (25, -5)
  line L14 (25, -5) -> (25, 0)
  point P0 (125, 0)
  point P1 (52.5, 19.8425)
  point P2 (72.5, 19.8425)
  point P3 (62.5, 19.8425)
  dimension "d162" = 5
extrude "Extrusion28" cut sketch "Sketch33" against normal through all
sketch "Sketch34" plane through (5, 19.8425, 43.755) normal (0, -1, 0) x (1, 0, 0)
  circle A0 centre (-17.4, -4.855) radius 2.25 projected
  arc A1 (-62.9148, -6.3458) -> (-62.9148, -3.3642) centre (-64.6, -4.855) ccw projected
  circle A2 centre (-17.4, 42.345) radius 2.25 projected
  arc A3 (-62.9148, 40.8542) -> (-62.9148, 43.8358) centre (-64.6, 42.345) ccw projected
  circle A4 centre (-17.4, -4.855) radius 6.5
  circle A5 centre (-64.6, -4.855) radius 6.5
  circle A6 centre (-64.6, 42.345) radius 6.5
  circle A7 centre (-17.4, 42.345) radius 2.25 projected
  circle A8 centre (-17.4, 42.345) radius 6.5
  point P0 (-5, -43.755)
  dimension "d165" = 13
  dimension "d166" = 13
  dimension "d167" = 13
  dimension "d168" = 13
extrude "Extrusion29" cut sketch "Sketch34" against normal blind 3 contours A0 | A2 | A4 | A5 | A6 | A8
sketch "Sketch35" plane through (5, 19.8425, 43.755) normal (0, -1, 0) x (1, 0, 0)
  circle A0 centre (-22.4695, -16.255) radius 2.5 projected
  circle A1 centre (-22.4695, 53.745) radius 2.5 projected
  circle A2 centre (-22.4695, -16.255) radius 6.5
  circle A3 centre (-22.4695, 53.745) radius 6.5
  point P0 (-5, -43.755)
  point P1 (-22.4695, -18.755)
  point P2 (-22.4695, 56.245)
  dimension "d171" = 13
  dimension "d172" = 13
extrude "Extrusion30" cut sketch "Sketch35" along normal through all
sketch "Sketch36" plane through (5, 19.8425, 43.755) normal (0, -1, 0) x (1, 0, 0)
  circle A0 centre (-22.4695, -16.255) radius 2.5 projected
  circle A1 centre (-22.4695, -16.255) radius 6.5
  circle A2 centre (-22.4695, 53.745) radius 2.5 projected
  circle A3 centre (-22.4695, 53.745) radius 6.5
  arc A4 (-16.4695, 56.245) -> (-28.4695, 56.245) centre (-22.4695, 53.745) ccw projected
  arc A5 (-28.4695, -18.755) -> (-16.4695, -18.755) centre (-22.4695, -16.255) ccw projected
  circle A6 centre (-72.4695, 53.745) radius 2.5 projected
  circle A7 centre (-72.4695, 53.745) radius 6.5
  circle A8 centre (-72.4695, -16.255) radius 6.5
  circle A9 centre (-72.4695, -16.255) radius 2.5 projected
  point P0 (-5, -43.755)
  point P1 (-74.9695, -16.255)
  point P2 (-74.9695, 53.745)
  dimension "d175" = 13
  dimension "d176" = 13
  dimension "d179" = 13
  dimension "d180" = 13
extrude "Extrusion31" cut sketch "Sketch36" against normal blind 3 contours A1 | A3 | A6 | A9
sketch "Sketch37" plane through (10, 50, 52.5) normal (0, 1, 0) x (1, 0, 0)
  line L0 (0, -72.5) -> (-112.4695, -72.5) projected
  line L1 (0, -72.5) -> (-10, -72.5)
  line L2 (-10, -72.5) -> (-10, 52.5)
  line L3 (-10, 52.5) -> (0, 52.5)
  line L4 (0, 52.5) -> (0, -72.5)
extrude "Extrusion32" add sketch "Sketch37" against normal blind 5
sketch "Sketch38" plane through (0, 0, 20) normal (0, 0, -1) x (-1, 0, 0)
  line L0 (-10, 0) -> (0, 0) projected
  line L1 (-10, 0) -> (-10, -10) projected
  line L2 (-10, -10) -> (0, -10) projected
  line L3 (0, -10) -> (0, 0) projected
  point P0 (0, 0)
extrude "Extrusion33" cut sketch "Sketch38" against normal through all
sketch "Sketch39" plane through (0, 0, 0) normal (0, -1, 0) x (1, 0, 0)
  line L0 (0, 25) -> (10, 25) projected
  line L1 (0, 107.5) -> (0, 100) projected
  line L2 (10, 25) -> (0, 25)
  line L3 (0, 25) -> (0, 100)
  line L4 (0, 100) -> (10, 100)
  line L5 (10, 100) -> (10, 25)
  point P0 (0, 0)
extrude "Extrusion34" add sketch "Sketch39" against normal blind 5
sketch "Sketch40" plane through (10, 0, 0) normal (0, -1, 0) x (1, 0, 0)
  circle A0 centre (-5, 62.5) radius 2.5
  line L0 (0, 0) -> (-10, 0) projected
  line L1 (-10, 0) -> (-10, 125) projected
  point P0 (-5, 0)
  point P1 (-10, 62.5)
  dimension "d187" = 5
extrude "Extrusion35" cut sketch "Sketch40" against normal blind 25
properties part number "SJ004" material "ABS Plastic"
